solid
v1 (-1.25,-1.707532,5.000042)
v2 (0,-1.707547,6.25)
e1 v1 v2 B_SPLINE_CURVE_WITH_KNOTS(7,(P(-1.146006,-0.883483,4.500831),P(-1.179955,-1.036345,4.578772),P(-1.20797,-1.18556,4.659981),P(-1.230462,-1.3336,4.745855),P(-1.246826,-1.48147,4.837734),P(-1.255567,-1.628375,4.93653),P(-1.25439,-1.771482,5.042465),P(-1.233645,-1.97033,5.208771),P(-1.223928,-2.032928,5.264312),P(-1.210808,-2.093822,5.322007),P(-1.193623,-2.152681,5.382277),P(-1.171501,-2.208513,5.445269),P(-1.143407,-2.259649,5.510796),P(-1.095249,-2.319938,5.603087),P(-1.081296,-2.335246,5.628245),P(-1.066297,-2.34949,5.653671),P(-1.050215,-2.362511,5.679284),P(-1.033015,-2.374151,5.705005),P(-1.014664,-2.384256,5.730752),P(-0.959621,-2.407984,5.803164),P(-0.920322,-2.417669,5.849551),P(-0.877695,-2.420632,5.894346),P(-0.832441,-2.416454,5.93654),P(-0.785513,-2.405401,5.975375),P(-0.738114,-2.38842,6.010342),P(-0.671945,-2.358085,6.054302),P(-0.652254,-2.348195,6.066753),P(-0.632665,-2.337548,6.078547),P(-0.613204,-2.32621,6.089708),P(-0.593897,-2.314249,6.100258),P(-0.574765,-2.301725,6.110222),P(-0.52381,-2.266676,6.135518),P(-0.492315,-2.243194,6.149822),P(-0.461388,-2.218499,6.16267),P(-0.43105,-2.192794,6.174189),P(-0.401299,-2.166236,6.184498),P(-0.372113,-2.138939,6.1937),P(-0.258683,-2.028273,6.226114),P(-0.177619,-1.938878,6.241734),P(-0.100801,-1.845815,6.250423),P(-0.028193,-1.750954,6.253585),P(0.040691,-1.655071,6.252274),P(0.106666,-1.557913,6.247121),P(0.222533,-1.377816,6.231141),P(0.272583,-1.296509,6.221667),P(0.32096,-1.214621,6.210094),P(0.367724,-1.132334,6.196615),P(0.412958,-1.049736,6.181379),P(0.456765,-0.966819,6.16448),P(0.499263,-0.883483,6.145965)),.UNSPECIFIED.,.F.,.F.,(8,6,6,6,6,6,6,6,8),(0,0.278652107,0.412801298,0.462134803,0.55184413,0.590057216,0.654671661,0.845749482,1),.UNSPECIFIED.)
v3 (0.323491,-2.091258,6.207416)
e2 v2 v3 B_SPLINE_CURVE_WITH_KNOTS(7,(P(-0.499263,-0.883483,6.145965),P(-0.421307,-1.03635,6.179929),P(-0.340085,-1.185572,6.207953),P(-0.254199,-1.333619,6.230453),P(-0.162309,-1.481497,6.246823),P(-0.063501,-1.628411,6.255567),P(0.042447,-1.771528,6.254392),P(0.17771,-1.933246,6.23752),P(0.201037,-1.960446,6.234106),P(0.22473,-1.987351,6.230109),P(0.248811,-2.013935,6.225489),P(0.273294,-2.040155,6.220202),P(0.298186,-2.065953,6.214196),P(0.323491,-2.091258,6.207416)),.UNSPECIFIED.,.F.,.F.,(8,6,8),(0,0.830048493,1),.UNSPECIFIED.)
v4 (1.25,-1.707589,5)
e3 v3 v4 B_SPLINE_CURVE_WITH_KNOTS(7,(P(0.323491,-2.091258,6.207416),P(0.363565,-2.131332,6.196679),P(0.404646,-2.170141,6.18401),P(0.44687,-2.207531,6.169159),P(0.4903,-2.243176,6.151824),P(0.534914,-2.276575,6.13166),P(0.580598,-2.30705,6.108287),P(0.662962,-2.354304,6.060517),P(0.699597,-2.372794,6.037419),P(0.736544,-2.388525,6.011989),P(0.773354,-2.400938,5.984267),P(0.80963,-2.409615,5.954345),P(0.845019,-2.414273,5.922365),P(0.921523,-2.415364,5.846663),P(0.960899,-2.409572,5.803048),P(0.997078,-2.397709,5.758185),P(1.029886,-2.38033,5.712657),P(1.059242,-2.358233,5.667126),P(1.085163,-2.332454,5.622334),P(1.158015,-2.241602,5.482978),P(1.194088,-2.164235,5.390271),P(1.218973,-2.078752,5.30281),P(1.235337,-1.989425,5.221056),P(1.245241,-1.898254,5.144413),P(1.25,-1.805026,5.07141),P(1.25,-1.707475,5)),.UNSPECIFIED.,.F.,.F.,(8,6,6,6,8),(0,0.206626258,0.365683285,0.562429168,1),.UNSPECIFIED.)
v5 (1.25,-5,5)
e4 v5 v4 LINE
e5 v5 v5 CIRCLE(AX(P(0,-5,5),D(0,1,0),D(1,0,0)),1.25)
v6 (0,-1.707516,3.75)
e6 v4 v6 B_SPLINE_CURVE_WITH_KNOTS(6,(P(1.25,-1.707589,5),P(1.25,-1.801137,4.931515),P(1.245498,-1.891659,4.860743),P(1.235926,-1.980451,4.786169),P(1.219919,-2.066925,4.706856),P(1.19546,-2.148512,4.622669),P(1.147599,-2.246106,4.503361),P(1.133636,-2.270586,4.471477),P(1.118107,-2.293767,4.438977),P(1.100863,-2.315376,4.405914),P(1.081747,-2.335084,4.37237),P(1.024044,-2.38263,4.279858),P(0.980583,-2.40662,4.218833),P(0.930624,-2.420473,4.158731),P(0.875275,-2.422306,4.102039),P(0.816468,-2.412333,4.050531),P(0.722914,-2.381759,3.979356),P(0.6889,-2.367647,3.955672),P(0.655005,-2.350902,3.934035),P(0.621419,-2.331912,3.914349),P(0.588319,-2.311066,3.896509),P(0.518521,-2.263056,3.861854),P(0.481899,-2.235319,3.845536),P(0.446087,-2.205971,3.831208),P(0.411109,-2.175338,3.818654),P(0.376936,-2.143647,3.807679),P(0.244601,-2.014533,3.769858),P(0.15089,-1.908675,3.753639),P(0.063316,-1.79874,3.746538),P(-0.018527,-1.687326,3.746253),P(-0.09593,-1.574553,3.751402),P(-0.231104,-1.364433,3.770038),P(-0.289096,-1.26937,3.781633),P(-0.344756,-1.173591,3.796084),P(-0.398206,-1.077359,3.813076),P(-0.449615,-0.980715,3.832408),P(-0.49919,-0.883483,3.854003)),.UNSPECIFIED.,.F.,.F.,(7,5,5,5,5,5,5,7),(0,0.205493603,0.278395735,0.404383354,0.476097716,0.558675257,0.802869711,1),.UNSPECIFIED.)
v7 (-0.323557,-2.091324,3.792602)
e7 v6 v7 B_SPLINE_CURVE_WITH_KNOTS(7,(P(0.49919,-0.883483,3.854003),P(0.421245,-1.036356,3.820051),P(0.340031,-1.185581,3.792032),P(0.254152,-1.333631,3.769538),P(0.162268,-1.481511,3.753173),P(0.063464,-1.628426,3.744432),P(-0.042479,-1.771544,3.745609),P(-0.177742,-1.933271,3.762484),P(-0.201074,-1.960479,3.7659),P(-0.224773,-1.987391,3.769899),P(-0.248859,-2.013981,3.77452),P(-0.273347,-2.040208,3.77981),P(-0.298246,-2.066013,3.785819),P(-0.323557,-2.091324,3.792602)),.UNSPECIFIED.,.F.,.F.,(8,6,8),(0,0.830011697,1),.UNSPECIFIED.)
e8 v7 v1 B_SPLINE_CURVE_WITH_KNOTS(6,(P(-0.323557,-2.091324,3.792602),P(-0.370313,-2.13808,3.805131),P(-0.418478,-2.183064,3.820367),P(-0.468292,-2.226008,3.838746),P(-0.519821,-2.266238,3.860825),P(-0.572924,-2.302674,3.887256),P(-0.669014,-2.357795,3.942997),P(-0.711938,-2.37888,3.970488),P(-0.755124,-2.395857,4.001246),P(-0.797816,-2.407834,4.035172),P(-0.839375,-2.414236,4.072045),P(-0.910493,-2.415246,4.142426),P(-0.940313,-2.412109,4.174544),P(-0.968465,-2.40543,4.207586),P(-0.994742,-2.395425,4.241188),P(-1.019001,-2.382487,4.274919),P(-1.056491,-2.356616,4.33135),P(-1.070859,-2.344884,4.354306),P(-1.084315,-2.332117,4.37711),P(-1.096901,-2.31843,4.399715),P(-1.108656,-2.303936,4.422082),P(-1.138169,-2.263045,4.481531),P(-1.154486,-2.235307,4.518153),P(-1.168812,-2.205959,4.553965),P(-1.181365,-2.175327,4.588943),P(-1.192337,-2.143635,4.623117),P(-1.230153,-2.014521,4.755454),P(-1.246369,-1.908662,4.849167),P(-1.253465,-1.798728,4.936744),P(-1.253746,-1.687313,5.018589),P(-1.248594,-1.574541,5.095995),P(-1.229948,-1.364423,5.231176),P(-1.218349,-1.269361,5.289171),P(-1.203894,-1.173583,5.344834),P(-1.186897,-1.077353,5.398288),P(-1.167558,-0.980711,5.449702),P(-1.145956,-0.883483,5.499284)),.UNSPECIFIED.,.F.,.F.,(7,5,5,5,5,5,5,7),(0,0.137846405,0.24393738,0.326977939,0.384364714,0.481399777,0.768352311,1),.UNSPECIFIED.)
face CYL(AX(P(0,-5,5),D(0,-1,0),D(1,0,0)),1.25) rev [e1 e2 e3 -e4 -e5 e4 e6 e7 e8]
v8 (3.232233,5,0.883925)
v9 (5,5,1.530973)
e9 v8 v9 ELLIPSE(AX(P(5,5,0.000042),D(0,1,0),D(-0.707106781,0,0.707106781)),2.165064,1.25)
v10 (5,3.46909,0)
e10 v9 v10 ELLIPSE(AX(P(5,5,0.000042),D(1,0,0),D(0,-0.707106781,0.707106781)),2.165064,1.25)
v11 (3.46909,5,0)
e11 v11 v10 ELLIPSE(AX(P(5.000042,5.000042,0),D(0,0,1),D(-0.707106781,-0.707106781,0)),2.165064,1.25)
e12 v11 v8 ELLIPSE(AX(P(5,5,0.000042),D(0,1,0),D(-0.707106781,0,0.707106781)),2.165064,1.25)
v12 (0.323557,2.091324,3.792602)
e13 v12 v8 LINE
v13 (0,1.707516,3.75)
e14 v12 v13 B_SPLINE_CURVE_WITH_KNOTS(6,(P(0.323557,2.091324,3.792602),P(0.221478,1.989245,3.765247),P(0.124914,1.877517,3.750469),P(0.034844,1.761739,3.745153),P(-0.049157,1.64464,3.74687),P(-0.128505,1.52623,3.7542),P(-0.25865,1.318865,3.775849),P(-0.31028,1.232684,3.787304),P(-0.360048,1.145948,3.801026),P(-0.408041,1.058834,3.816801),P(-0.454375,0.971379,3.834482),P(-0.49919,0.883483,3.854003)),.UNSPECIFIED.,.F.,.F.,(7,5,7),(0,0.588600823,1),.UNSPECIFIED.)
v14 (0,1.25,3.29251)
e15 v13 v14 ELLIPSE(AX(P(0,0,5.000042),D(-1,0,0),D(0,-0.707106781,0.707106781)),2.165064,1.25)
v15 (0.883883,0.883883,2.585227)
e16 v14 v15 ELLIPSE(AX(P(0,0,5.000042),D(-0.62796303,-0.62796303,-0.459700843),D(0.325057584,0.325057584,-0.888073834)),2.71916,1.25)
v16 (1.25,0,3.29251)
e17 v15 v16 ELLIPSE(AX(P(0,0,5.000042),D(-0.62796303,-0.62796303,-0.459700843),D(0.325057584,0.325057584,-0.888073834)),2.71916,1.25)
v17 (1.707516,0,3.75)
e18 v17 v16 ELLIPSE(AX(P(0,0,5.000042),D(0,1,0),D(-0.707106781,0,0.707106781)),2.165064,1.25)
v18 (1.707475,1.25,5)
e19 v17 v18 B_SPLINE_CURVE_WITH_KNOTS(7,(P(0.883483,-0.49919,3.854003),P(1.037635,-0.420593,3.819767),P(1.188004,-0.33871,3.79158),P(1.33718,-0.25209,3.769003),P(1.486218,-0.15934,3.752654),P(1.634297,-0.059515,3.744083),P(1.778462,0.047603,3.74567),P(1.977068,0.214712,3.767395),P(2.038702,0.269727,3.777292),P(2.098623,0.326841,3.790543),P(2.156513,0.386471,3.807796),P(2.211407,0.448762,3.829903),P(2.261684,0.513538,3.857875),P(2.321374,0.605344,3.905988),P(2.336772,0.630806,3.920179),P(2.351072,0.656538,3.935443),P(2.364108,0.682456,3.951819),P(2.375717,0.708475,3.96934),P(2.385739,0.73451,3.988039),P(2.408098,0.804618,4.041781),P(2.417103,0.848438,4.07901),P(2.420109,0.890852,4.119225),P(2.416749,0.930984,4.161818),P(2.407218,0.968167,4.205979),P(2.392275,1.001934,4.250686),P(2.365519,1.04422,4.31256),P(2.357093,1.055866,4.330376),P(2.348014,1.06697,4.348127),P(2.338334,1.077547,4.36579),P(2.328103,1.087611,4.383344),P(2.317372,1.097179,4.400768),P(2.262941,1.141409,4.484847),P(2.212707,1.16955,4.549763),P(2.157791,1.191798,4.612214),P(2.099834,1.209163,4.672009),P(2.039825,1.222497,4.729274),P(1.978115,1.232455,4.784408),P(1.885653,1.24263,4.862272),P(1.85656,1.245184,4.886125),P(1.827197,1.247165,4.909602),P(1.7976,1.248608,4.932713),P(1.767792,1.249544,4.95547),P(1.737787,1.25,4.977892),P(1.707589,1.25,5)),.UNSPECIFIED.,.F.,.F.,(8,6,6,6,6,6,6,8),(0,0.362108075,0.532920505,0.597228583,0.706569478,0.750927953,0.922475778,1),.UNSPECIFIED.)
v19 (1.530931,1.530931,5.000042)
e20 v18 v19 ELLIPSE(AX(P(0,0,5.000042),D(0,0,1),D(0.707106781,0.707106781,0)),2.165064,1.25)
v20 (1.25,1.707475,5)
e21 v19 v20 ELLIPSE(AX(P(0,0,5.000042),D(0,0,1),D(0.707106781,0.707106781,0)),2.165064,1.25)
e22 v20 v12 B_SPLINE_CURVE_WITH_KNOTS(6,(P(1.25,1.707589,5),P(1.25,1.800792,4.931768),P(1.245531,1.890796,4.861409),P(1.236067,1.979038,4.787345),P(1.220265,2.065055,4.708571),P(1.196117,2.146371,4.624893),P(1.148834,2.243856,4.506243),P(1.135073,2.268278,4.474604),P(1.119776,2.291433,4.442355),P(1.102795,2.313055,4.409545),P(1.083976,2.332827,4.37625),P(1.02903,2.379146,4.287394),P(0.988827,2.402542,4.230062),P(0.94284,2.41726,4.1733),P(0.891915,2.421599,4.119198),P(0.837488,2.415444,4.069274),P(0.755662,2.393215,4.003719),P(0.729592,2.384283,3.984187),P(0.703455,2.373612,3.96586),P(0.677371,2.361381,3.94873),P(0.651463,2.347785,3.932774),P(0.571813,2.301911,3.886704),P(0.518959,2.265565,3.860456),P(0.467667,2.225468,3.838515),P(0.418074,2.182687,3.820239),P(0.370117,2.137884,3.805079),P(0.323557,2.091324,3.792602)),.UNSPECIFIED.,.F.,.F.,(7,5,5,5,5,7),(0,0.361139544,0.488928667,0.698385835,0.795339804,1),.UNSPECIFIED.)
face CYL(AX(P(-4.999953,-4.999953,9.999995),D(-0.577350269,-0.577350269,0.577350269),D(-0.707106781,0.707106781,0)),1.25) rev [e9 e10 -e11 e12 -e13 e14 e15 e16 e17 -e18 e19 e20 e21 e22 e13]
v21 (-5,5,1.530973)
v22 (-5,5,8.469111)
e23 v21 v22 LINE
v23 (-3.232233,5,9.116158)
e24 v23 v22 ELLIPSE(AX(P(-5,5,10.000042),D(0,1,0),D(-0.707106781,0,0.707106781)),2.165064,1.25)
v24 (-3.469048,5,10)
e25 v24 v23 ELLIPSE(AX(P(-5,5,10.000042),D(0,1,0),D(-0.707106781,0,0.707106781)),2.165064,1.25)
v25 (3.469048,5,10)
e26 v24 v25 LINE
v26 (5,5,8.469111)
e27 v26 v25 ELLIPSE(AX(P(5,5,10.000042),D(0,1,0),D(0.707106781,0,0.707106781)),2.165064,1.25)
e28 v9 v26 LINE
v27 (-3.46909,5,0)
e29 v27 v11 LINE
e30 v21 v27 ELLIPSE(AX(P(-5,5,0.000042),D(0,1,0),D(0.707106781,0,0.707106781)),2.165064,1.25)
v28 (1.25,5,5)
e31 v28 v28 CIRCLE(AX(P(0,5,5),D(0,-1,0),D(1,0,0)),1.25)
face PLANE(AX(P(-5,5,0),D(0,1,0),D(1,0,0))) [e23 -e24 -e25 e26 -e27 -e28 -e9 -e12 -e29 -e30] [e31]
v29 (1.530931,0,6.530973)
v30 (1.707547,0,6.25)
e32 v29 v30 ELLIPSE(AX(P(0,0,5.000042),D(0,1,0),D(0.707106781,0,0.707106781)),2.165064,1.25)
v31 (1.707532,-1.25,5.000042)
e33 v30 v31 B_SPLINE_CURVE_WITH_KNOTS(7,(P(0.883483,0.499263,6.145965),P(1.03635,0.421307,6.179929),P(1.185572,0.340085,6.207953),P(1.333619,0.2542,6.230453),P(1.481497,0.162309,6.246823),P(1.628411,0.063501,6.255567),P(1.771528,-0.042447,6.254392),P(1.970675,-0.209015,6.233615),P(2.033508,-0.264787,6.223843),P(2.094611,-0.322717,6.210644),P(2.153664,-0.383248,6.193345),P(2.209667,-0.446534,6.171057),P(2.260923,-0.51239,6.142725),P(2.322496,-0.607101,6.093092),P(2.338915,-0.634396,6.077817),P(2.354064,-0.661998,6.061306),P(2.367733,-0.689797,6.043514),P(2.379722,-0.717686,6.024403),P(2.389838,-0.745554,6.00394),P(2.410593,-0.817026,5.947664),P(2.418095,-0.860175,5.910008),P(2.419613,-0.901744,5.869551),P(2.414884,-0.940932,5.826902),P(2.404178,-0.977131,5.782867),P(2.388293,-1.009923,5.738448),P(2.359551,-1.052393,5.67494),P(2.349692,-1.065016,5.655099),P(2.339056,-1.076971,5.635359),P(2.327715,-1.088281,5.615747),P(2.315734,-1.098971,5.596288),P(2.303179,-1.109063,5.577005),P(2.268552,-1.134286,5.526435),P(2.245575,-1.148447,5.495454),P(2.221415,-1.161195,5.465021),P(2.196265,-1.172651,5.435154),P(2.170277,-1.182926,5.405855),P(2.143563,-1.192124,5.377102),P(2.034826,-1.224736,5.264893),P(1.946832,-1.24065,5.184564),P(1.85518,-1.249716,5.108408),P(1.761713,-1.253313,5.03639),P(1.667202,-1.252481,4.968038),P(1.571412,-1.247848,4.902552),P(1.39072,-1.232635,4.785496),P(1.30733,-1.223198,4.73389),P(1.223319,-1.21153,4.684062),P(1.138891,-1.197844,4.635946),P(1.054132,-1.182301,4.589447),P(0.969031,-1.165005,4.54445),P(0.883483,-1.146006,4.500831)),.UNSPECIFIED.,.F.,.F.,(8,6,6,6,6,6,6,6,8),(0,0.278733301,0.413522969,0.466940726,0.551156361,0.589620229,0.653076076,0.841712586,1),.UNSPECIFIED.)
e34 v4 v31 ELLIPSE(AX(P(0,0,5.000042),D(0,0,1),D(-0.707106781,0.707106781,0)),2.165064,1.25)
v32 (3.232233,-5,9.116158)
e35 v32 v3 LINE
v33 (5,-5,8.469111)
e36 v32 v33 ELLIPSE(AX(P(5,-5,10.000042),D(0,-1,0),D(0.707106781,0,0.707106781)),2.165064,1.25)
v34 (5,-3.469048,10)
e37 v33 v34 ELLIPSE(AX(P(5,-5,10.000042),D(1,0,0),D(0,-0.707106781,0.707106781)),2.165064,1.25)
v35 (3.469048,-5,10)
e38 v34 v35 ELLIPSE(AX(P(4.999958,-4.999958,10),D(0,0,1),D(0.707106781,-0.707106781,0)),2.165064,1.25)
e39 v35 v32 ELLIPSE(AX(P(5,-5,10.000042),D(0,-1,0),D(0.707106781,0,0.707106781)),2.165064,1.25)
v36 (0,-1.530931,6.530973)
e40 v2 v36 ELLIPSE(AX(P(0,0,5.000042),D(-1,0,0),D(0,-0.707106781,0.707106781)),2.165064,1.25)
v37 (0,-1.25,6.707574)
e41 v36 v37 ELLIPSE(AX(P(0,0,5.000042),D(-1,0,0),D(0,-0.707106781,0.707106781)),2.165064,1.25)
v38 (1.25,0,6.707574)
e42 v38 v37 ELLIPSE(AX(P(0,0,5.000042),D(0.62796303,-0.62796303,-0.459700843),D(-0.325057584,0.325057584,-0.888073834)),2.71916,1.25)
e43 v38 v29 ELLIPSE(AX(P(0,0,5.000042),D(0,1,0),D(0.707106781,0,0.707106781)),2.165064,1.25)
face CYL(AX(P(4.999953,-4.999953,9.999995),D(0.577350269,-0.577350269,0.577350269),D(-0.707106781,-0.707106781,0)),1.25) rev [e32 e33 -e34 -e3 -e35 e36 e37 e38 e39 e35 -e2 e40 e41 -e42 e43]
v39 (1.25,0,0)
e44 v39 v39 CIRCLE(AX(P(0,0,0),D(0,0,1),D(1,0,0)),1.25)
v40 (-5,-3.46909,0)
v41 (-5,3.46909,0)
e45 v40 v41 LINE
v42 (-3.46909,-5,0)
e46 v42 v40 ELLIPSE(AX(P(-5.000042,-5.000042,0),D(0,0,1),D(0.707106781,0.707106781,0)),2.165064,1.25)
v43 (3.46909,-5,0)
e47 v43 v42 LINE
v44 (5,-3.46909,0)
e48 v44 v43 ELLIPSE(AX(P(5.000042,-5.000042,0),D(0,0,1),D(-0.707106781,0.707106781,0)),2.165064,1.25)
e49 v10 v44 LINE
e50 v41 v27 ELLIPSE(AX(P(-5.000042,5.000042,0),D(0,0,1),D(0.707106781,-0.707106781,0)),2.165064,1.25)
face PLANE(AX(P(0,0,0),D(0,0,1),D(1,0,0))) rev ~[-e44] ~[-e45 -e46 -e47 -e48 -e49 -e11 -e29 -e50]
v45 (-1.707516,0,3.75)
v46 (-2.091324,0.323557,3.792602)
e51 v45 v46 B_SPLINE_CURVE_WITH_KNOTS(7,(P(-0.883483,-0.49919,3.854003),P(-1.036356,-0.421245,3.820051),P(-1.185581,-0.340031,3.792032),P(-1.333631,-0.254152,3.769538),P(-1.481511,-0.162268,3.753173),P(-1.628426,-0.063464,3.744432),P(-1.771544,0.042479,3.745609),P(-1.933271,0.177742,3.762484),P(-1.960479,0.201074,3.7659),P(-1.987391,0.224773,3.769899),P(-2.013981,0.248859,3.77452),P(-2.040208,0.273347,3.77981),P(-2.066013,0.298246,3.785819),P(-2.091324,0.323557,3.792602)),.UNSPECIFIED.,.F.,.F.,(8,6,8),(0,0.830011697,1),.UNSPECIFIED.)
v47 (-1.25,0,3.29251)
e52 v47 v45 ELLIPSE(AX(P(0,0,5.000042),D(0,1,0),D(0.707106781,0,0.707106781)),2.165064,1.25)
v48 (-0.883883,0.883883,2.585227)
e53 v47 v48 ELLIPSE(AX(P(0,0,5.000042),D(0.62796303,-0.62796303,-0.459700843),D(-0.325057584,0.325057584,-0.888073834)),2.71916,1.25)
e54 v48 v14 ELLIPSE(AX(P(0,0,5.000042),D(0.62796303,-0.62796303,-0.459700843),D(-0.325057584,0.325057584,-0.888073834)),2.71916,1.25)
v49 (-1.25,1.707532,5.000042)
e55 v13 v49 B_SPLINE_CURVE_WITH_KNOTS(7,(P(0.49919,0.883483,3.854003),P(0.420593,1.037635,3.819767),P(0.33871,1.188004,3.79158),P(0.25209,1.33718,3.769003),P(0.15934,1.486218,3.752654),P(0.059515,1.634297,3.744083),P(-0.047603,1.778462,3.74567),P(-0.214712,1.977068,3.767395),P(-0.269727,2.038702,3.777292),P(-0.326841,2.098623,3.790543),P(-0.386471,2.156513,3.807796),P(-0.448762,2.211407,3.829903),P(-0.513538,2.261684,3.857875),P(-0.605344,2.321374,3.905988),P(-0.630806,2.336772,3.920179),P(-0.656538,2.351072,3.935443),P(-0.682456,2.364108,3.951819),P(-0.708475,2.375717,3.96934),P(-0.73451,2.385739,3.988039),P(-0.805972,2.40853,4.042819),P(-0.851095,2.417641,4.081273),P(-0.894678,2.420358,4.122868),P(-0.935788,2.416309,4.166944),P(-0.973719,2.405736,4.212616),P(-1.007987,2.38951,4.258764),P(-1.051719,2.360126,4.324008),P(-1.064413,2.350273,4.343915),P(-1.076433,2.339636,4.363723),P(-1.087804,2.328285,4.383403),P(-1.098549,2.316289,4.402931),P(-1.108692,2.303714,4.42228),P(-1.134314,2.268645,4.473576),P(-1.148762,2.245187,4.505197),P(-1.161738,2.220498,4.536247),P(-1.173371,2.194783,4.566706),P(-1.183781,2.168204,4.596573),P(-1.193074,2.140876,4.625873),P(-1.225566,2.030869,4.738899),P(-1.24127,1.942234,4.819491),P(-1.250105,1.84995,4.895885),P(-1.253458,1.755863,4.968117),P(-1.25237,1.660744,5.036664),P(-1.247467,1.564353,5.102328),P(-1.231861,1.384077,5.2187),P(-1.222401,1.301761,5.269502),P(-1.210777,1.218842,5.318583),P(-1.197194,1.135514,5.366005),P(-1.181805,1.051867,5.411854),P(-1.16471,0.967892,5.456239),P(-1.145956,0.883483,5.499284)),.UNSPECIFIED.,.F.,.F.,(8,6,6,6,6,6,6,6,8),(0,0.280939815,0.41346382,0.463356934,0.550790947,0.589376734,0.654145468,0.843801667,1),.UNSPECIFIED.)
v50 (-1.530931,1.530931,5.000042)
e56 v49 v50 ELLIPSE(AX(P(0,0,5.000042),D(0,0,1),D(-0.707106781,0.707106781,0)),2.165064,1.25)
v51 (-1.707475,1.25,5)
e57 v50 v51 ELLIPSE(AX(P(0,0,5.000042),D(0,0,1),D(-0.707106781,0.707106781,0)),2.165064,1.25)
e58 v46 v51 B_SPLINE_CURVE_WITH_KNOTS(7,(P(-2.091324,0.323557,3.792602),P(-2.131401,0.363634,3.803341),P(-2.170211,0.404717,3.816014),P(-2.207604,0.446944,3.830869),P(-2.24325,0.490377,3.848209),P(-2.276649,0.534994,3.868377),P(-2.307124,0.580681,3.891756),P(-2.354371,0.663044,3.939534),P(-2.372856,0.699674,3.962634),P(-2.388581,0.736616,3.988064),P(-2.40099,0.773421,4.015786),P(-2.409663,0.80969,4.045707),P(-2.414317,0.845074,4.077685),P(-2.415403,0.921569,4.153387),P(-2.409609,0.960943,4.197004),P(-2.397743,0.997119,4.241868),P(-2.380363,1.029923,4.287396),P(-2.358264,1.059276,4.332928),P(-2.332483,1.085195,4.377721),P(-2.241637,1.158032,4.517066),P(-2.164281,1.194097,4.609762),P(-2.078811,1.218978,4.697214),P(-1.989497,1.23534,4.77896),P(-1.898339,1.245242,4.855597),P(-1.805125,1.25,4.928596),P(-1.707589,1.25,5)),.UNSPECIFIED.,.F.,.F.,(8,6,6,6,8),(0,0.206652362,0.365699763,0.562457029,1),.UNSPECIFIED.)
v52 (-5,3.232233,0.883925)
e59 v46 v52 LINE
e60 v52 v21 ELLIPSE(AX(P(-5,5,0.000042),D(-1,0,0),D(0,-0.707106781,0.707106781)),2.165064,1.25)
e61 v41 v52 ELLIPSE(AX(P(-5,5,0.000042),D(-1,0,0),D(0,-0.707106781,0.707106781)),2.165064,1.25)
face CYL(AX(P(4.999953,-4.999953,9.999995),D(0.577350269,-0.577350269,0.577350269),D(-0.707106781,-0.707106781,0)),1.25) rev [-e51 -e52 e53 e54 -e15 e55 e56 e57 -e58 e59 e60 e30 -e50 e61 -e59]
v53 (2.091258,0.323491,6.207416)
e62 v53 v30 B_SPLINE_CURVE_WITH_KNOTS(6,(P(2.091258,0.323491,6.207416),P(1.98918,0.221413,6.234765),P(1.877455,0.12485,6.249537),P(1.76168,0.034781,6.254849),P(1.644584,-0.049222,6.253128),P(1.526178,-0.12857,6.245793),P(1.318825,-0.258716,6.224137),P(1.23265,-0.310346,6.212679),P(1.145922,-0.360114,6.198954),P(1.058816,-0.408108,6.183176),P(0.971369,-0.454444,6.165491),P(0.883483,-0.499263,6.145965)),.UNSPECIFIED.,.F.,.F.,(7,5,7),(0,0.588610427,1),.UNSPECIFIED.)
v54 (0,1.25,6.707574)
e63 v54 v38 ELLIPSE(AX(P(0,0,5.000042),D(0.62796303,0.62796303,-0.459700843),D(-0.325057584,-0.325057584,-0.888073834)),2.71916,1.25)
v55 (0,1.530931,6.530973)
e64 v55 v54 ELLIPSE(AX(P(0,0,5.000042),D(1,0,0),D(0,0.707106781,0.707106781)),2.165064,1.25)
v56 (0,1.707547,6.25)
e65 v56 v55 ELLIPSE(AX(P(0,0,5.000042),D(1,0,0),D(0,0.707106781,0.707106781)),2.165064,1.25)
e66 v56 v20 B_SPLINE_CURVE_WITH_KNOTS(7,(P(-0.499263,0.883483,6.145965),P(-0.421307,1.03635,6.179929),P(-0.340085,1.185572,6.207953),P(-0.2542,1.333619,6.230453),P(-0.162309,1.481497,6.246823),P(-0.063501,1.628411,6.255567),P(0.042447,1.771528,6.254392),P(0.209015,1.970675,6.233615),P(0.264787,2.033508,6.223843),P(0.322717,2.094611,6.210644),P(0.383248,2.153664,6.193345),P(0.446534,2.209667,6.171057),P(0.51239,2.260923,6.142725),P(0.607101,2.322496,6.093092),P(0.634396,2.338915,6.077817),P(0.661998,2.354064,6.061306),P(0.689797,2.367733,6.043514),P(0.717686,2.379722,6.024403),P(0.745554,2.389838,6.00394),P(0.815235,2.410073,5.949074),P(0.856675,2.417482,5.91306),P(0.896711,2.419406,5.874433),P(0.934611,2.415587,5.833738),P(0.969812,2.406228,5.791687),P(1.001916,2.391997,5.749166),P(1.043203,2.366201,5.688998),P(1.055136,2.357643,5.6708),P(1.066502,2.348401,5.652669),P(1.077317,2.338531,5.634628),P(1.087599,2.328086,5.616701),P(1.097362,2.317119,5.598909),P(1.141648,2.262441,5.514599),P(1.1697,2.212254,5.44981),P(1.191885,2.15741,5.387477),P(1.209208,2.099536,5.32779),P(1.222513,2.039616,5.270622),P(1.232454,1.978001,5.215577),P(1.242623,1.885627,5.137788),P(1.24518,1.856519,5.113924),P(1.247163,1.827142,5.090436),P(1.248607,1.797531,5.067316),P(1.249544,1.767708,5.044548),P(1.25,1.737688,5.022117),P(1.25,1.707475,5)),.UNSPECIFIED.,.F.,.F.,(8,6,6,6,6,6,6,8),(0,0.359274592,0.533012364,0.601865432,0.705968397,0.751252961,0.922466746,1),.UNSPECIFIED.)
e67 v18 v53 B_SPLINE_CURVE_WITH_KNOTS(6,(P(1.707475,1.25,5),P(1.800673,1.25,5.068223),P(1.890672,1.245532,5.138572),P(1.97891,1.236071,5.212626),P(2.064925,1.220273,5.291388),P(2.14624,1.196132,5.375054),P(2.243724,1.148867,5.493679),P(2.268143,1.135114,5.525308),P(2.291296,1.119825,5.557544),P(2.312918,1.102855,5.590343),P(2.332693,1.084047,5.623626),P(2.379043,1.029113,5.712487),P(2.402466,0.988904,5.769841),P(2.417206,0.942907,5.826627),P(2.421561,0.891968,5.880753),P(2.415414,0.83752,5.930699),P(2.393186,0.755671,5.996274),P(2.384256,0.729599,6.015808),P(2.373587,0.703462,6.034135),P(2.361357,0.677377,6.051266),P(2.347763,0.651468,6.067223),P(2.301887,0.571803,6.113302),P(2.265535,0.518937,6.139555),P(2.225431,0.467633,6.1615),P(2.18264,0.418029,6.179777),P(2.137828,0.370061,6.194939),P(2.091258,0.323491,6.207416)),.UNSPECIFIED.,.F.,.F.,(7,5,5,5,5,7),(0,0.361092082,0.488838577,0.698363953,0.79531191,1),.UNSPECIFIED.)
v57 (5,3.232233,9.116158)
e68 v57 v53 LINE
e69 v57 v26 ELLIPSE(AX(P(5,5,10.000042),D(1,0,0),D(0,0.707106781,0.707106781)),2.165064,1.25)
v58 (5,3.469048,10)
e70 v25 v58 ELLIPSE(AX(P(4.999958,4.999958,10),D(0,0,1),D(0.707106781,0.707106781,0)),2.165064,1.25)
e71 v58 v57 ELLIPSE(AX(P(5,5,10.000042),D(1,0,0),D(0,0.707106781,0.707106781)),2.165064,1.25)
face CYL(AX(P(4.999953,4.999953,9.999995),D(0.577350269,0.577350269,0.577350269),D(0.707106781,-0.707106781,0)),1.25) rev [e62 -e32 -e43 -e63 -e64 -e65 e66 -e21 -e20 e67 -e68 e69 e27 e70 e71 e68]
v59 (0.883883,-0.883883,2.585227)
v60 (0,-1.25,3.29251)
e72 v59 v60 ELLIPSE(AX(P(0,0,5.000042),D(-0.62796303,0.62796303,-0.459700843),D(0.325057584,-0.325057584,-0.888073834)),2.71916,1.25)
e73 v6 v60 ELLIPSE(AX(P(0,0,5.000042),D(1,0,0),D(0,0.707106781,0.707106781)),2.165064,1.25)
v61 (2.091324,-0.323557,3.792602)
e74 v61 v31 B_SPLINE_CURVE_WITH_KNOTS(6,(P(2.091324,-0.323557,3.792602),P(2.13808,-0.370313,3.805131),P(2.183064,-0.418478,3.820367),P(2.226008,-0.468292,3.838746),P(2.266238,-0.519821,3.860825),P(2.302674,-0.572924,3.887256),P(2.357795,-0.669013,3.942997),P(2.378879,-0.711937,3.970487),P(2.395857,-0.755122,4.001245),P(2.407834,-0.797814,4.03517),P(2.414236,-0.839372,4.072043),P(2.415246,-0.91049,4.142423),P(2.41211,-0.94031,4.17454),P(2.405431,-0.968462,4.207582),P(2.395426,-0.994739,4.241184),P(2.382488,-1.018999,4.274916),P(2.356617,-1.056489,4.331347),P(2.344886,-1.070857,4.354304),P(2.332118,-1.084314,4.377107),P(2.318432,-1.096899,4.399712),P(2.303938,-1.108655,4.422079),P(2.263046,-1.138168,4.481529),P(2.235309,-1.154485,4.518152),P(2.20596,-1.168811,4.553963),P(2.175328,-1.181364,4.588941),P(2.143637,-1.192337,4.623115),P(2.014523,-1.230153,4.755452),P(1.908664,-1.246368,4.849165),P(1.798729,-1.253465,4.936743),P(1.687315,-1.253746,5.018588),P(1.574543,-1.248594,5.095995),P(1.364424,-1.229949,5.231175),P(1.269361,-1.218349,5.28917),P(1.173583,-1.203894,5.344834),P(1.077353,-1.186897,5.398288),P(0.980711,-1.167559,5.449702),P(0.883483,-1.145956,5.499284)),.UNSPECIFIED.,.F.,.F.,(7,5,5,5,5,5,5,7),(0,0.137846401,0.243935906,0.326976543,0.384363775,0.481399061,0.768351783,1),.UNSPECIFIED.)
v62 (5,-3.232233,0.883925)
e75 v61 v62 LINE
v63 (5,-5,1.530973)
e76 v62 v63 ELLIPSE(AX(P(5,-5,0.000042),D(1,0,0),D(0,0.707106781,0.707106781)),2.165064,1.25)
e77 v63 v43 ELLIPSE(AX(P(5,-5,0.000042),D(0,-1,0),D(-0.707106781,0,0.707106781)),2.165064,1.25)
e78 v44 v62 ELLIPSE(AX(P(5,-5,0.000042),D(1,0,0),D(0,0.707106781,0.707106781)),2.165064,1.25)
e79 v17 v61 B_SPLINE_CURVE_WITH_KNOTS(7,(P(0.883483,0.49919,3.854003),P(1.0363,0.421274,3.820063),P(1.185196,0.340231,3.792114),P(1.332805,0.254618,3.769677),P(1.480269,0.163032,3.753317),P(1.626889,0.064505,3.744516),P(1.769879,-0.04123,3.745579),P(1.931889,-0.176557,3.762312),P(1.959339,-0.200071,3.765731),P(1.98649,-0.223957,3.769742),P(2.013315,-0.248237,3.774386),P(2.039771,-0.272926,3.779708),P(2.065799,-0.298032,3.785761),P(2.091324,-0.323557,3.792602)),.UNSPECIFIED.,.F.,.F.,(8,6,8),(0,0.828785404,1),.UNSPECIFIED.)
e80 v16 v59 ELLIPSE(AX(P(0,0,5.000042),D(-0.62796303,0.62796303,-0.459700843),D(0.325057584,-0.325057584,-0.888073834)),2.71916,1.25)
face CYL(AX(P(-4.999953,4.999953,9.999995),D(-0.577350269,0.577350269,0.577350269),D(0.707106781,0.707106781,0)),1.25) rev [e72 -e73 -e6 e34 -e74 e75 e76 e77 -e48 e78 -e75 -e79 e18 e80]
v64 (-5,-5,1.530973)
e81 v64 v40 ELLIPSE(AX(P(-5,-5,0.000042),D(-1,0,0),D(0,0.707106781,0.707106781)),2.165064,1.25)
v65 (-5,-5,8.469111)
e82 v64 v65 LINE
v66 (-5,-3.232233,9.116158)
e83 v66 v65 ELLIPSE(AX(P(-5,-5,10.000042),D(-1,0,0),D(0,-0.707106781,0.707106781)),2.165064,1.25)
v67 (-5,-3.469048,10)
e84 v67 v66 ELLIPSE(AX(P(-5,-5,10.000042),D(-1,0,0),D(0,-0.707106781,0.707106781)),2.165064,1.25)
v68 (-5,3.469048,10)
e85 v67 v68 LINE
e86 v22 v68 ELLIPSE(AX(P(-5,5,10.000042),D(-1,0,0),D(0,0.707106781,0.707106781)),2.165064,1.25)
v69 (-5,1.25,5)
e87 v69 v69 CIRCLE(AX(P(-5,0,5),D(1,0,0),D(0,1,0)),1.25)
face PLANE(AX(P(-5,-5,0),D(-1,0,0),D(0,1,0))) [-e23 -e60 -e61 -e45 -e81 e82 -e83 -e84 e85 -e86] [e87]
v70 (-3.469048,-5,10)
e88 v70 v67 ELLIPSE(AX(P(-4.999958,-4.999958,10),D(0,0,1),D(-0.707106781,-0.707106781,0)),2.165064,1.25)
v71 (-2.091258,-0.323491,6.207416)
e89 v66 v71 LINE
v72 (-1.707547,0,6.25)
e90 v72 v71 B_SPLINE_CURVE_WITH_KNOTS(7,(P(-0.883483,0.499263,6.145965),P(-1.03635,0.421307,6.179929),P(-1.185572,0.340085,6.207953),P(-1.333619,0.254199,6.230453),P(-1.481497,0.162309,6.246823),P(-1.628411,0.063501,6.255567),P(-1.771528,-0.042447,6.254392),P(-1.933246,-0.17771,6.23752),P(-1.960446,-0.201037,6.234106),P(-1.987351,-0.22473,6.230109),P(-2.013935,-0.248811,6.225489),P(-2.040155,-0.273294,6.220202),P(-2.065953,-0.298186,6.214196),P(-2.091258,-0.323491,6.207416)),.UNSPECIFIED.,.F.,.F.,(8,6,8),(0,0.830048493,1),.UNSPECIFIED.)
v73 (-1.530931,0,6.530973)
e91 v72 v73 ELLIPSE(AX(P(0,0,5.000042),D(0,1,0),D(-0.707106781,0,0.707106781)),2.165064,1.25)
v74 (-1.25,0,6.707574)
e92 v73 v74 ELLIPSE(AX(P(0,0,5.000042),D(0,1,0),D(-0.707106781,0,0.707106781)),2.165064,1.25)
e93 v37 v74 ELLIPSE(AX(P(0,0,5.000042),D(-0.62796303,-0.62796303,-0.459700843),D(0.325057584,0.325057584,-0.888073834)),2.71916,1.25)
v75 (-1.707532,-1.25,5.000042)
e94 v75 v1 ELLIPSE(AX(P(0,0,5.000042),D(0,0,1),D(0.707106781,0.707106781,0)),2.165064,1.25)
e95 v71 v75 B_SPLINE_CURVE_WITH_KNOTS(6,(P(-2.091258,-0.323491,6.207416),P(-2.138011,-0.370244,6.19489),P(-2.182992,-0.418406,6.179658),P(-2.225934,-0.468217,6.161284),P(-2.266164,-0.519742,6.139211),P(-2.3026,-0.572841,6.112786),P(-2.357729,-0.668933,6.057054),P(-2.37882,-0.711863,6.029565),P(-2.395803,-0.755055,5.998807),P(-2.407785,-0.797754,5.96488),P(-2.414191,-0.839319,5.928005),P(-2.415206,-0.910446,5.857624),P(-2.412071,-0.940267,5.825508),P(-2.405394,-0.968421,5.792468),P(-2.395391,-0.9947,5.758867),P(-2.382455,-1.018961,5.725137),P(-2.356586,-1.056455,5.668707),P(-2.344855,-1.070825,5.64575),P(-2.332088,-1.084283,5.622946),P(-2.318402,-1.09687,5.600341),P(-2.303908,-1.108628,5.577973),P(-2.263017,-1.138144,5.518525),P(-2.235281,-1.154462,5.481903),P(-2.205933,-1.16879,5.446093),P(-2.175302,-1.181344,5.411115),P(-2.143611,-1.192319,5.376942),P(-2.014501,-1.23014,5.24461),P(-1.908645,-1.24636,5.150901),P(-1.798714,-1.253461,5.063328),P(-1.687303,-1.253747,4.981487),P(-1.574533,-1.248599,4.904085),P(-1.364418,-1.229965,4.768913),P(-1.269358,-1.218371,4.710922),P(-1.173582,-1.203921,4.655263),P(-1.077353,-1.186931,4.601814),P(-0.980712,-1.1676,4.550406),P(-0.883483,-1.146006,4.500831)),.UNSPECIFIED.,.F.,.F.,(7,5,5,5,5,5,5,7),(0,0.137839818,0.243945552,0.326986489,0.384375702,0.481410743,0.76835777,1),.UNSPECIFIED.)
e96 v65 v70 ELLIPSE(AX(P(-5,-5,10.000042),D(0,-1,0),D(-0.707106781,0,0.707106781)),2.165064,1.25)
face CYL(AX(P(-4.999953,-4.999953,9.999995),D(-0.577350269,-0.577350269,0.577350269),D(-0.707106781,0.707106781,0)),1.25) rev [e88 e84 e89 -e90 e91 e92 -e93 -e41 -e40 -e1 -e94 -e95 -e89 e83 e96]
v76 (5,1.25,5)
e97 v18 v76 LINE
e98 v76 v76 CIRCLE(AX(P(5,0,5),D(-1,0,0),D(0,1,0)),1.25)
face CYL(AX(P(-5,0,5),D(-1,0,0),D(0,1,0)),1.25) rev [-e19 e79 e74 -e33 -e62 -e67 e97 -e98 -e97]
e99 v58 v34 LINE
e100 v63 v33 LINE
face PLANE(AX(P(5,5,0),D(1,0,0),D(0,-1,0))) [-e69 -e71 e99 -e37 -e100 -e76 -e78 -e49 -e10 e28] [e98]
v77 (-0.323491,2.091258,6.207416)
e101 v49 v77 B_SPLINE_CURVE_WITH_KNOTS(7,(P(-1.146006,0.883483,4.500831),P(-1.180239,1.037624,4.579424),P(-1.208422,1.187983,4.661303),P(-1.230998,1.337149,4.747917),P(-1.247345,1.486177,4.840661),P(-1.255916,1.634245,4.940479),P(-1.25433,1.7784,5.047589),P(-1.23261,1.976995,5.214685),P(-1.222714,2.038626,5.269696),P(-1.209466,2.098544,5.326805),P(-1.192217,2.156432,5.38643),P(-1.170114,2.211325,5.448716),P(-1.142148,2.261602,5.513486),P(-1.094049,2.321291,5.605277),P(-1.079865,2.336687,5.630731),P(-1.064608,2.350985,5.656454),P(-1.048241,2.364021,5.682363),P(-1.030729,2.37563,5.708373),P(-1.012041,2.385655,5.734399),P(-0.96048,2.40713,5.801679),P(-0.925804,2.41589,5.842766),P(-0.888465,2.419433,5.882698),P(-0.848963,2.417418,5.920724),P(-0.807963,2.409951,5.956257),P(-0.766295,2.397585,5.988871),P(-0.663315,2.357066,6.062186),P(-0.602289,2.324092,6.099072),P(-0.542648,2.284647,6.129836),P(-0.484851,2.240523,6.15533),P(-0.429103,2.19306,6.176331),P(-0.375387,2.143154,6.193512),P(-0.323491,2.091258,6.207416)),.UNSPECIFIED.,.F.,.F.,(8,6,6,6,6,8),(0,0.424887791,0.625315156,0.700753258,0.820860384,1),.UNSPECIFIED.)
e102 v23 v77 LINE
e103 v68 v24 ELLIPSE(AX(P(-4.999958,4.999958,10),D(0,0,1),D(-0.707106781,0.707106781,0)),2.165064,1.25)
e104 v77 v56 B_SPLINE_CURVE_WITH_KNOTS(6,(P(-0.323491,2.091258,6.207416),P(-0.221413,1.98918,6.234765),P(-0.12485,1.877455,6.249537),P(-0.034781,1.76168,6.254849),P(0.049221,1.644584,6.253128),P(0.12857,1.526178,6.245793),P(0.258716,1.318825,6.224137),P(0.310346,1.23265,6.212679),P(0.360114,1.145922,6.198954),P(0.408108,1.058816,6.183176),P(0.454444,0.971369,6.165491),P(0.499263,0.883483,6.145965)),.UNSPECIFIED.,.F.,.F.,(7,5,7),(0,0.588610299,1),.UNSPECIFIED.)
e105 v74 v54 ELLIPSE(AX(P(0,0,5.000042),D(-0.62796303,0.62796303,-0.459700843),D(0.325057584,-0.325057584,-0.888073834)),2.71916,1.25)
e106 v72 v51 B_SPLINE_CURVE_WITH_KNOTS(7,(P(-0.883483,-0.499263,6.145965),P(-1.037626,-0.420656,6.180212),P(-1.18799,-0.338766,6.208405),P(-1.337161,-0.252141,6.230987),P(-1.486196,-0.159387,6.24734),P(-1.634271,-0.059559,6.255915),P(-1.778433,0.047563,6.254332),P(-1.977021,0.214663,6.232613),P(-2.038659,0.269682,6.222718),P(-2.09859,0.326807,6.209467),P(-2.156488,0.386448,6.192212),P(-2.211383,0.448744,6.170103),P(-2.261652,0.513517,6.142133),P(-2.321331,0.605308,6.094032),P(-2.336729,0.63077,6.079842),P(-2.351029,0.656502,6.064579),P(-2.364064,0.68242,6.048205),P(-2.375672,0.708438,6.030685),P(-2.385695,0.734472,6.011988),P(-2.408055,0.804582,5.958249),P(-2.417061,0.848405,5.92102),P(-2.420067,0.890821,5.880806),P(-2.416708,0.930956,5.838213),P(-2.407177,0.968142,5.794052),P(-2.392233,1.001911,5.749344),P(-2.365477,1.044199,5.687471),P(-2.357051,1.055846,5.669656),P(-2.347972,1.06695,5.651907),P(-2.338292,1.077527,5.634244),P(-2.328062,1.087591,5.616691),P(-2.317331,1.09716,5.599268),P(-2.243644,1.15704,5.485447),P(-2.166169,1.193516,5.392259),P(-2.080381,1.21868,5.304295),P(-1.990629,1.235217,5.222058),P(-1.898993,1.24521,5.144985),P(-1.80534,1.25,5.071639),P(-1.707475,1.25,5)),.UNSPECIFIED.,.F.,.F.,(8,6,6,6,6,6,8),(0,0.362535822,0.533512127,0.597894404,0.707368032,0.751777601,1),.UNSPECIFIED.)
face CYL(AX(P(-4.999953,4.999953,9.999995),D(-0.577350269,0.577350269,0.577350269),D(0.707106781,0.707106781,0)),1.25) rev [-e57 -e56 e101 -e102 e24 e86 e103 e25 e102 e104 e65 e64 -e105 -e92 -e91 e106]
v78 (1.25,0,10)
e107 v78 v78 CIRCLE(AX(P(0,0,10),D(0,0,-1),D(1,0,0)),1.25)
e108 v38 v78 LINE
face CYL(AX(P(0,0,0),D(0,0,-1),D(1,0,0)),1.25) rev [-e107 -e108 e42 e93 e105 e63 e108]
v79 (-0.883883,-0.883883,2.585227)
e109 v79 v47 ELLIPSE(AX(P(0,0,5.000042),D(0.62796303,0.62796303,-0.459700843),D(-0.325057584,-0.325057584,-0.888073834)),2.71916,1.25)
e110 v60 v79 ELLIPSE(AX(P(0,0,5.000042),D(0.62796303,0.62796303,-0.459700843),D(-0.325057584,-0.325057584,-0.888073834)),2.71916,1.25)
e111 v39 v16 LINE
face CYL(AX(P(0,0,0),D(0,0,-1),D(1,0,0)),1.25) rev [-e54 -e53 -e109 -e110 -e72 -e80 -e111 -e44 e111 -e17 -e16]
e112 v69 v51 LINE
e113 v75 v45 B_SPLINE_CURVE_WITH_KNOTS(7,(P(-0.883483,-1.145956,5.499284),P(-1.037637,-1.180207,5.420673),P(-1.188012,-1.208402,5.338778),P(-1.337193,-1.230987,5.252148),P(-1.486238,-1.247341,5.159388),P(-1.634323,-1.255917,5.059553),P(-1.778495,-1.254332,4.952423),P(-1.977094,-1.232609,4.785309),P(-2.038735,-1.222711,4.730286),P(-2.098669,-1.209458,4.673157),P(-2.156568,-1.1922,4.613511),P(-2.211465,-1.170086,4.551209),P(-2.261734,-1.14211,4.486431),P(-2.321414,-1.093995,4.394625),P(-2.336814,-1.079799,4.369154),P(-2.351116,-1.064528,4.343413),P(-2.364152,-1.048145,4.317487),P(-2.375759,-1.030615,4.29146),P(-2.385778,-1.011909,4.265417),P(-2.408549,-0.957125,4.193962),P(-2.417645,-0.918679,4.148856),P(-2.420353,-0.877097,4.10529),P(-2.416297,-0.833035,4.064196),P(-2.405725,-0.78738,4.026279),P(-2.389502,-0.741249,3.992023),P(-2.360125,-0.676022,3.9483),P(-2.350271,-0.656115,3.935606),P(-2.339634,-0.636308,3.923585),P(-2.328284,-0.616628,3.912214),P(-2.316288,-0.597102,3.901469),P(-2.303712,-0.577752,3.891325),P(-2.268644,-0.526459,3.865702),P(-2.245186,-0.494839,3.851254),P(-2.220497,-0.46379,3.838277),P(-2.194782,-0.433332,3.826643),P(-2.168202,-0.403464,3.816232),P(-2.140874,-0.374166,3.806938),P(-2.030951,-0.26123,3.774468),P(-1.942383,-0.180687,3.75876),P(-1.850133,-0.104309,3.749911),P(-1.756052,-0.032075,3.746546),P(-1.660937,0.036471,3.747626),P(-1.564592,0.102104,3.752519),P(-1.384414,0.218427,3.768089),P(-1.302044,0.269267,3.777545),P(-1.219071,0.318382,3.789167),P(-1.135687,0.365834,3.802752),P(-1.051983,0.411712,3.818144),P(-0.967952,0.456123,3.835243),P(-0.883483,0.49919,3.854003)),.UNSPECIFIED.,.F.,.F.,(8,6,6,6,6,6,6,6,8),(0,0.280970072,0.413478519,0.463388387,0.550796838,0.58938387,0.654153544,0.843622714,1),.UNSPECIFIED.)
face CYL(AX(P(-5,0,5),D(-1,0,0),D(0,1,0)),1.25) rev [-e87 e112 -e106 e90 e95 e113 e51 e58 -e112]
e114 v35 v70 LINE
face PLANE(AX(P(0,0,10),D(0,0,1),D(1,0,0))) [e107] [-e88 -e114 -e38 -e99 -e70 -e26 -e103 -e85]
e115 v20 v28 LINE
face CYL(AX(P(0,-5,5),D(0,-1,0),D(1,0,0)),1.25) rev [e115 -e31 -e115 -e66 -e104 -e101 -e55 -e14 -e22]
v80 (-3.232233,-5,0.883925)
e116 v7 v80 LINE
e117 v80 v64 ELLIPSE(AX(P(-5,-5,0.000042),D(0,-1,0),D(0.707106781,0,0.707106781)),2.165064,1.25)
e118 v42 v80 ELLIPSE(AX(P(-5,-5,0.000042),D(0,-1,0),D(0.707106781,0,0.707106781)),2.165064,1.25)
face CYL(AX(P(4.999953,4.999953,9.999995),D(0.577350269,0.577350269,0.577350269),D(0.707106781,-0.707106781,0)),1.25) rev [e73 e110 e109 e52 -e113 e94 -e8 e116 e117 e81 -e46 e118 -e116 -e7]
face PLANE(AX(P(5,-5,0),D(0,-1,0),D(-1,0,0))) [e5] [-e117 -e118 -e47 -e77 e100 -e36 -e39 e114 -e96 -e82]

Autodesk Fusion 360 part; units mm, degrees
sketch "Sketch1" plane through (0, 0, 0) normal (0, 0, 1) x (1, 0, 0)
  circle A0 centre (0, 0) radius 1.25
  line L0 (5, -5) -> (-5, -5)
  line L1 (-5, -5) -> (-5, 5)
  line L2 (-5, 5) -> (5, 5)
  line L3 (5, 5) -> (5, -5)
  line L4 (5, -5) -> (-5, 5) construction
  line L5 (-5, -5) -> (5, 5) construction
  line L6 (0, -5) -> (0, 5) construction
  line L7 (5, 0) -> (-5, 0) construction
  dimension "d1" = 2.5
  dimension "d3" = 10
  dimension "d4" = 10
ref_plane "WorkPlane1" through (0, -5, 0) normal (0, 1, 0) x (-1, 0, 0)
sketch "Sketch2" plane through (0, -5, 0) normal (0, 1, 0) x (1, 0, 0)
  line L0 (-5, 0) -> (5, 0)
  line L1 (5, 0) -> (5, -10)
  line L2 (5, -10) -> (-5, -10)
  line L3 (-5, -10) -> (-5, 0)
  line L4 (0, 0) -> (0, -10) construction
  circle A0 centre (0, -5) radius 1.25
  point P0 (5, 0)
  point P1 (-5, 0)
  point P2 (5, 0)
  dimension "d6" = 10
  dimension "d8" = 2.5
ref_plane "WorkPlane2" through (-5, 0, 0) normal (1, 0, 0) x (0, 1, 0)
sketch "Sketch3" plane through (-5, 0, 0) normal (1, 0, 0) x (0, 1, 0)
  line L0 (5, 0) -> (-5, 0)
  line L1 (-5, 0) -> (-5, 10)
  line L2 (-5, 10) -> (5, 10)
  line L3 (5, 10) -> (5, 0)
  line L4 (0, 0) -> (0, 10) construction
  circle A0 centre (0, 5) radius 1.25
  point P0 (-5, 0)
  point P1 (-5, 10)
  point P2 (5, 0)
  dimension "d10" = 2.5
ref_plane "WorkPlane3" through (0, 5, 0) normal (0, -1, 0) x (1, 0, 0)
sketch "Sketch4" plane through (0, 5, 0) normal (0, -1, 0) x (1, 0, 0)
  line L0 (5, 0) -> (5, 10)
  line L1 (5, 10) -> (-5, 10)
  circle A0 centre (0, 5) radius 1.25
  line L2 (-5, 0) -> (-5, 10)
  line L3 (-5, 0) -> (5, 0)
ref_plane "WorkPlane4" through (5, 0, 0) normal (-1, 0, 0) x (0, -1, 0)
sketch "Sketch5" plane through (5, 0, 0) normal (-1, 0, 0) x (0, 1, 0)
  line L0 (-5, -10) -> (-5, 0)
  line L1 (-5, -10) -> (5, -10)
  circle A0 centre (0, -5) radius 1.25
  line L2 (5, 0) -> (-5, 0)
  line L3 (5, -10) -> (5, 0)
ref_plane "WorkPlane5" through (0, -5, 10) normal (0, 0, 1) x (-1, 0, 0)
sketch "Sketch6" plane through (0, -5, 10) normal (0, 0, 1) x (1, 0, 0)
  line L0 (-5, 0) -> (5, 0)
  circle A0 centre (0, 5) radius 1.25
  line L1 (-5, 10) -> (5, 10)
  line L2 (-5, 0) -> (-5, 10)
  line L3 (5, 10) -> (5, 0)
ref_plane "WorkPlane6" through (-5, 5, 0) normal (0.5774, -0.5774, -0.5774) x (0.7071, 0.7071, 0)
ref_plane "WorkPlane7" through (-8.3333, 8.3333, 3.3333) normal (0.5774, -0.5774, -0.5774) x (0.7071, 0.7071, 0)
sketch "Sketch7" plane through (-8.3333, 8.3333, 3.3333) normal (0.5774, -0.5774, -0.5774) x (0.7071, 0.7071, 0)
  circle A0 centre (0, 8.165) radius 1.25
  point P0 (0, 8.165)
  point P1 (0, 8.165)
  point P2 (0, 8.165)
  dimension "d25" = 2.5
ref_plane "WorkPlane8" through (-5, -5, 0) normal (0.5774, 0.5774, -0.5774) x (-0.7071, 0.7071, 0)
ref_plane "WorkPlane9" through (-8.3333, -8.3333, 3.3333) normal (0.5774, 0.5774, -0.5774) x (-0.7071, 0.7071, 0)
sketch "Sketch8" plane through (-8.3333, -8.3333, 3.3333) normal (0.5774, 0.5774, -0.5774) x (-0.7071, 0.7071, 0)
  circle A0 centre (0, 8.165) radius 1.25
  point P0 (0, 8.165)
  point P1 (0, 8.165)
  point P2 (0, 8.165)
  dimension "d24" = 2.5
ref_plane "WorkPlane10" through (5, -5, 0) normal (-0.5774, 0.5774, -0.5774) x (-0.7071, -0.7071, 0)
ref_plane "WorkPlane11" through (8.3333, -8.3333, 3.3333) normal (-0.5774, 0.5774, -0.5774) x (-0.7071, -0.7071, 0)
sketch "Sketch9" plane through (8.3333, -8.3333, 3.3333) normal (-0.5774, 0.5774, -0.5774) x (-0.7071, -0.7071, 0)
  circle A0 centre (0, 8.165) radius 1.25
  point P0 (0, 8.165)
  point P1 (0, 8.165)
  point P2 (0, 8.165)
  dimension "d23" = 2.5
ref_plane "WorkPlane12" through (5, 5, 0) normal (-0.5774, -0.5774, -0.5774) x (0.7071, -0.7071, 0)
ref_plane "WorkPlane13" through (8.3333, 8.3333, 3.3333) normal (-0.5774, -0.5774, -0.5774) x (0.7071, -0.7071, 0)
sketch "Sketch10" plane through (8.3333, 8.3333, 3.3333) normal (-0.5774, -0.5774, -0.5774) x (0.7071, -0.7071, 0)
  circle A0 centre (0, 8.165) radius 1.25
  point P0 (0, 8.165)
  point P1 (0, 8.165)
  point P2 (0, 8.165)
  dimension "d22" = 2.5
extrude "Extrude1" add sketch "Sketch1" along normal up to surface (10 mm away) contours A0 | L0 L1 L2 L3
extrude "Extrude2" cut sketch "Sketch3" along normal through all contours A0
extrude "Extrude3" cut sketch "Sketch2" along normal through all contours A0
extrude "Extrude4" cut sketch "Sketch1" along normal through all contours A0
extrude "Extrude5" cut sketch "Sketch10" along normal through all
extrude "Extrude6" cut sketch "Sketch7" along normal through all
extrude "Extrude7" cut sketch "Sketch8" along normal through all
extrude "Extrude8" cut sketch "Sketch9" along normal through all
equation "d1 = TubeDiamter"
equation "TubeDiamter = 2.5 mm"
equation "d3 = CubeSize"
equation "d4 = CubeSize"
equation "d6 = CubeSize"
equation "CubeSize = 10 mm"
equation "d8 = TubeDiamter"
equation "d10 = TubeDiamter"
equation "d22 = TubeDiamter"
equation "d23 = TubeDiamter"
equation "d24 = TubeDiamter"
equation "d25 = TubeDiamter"
